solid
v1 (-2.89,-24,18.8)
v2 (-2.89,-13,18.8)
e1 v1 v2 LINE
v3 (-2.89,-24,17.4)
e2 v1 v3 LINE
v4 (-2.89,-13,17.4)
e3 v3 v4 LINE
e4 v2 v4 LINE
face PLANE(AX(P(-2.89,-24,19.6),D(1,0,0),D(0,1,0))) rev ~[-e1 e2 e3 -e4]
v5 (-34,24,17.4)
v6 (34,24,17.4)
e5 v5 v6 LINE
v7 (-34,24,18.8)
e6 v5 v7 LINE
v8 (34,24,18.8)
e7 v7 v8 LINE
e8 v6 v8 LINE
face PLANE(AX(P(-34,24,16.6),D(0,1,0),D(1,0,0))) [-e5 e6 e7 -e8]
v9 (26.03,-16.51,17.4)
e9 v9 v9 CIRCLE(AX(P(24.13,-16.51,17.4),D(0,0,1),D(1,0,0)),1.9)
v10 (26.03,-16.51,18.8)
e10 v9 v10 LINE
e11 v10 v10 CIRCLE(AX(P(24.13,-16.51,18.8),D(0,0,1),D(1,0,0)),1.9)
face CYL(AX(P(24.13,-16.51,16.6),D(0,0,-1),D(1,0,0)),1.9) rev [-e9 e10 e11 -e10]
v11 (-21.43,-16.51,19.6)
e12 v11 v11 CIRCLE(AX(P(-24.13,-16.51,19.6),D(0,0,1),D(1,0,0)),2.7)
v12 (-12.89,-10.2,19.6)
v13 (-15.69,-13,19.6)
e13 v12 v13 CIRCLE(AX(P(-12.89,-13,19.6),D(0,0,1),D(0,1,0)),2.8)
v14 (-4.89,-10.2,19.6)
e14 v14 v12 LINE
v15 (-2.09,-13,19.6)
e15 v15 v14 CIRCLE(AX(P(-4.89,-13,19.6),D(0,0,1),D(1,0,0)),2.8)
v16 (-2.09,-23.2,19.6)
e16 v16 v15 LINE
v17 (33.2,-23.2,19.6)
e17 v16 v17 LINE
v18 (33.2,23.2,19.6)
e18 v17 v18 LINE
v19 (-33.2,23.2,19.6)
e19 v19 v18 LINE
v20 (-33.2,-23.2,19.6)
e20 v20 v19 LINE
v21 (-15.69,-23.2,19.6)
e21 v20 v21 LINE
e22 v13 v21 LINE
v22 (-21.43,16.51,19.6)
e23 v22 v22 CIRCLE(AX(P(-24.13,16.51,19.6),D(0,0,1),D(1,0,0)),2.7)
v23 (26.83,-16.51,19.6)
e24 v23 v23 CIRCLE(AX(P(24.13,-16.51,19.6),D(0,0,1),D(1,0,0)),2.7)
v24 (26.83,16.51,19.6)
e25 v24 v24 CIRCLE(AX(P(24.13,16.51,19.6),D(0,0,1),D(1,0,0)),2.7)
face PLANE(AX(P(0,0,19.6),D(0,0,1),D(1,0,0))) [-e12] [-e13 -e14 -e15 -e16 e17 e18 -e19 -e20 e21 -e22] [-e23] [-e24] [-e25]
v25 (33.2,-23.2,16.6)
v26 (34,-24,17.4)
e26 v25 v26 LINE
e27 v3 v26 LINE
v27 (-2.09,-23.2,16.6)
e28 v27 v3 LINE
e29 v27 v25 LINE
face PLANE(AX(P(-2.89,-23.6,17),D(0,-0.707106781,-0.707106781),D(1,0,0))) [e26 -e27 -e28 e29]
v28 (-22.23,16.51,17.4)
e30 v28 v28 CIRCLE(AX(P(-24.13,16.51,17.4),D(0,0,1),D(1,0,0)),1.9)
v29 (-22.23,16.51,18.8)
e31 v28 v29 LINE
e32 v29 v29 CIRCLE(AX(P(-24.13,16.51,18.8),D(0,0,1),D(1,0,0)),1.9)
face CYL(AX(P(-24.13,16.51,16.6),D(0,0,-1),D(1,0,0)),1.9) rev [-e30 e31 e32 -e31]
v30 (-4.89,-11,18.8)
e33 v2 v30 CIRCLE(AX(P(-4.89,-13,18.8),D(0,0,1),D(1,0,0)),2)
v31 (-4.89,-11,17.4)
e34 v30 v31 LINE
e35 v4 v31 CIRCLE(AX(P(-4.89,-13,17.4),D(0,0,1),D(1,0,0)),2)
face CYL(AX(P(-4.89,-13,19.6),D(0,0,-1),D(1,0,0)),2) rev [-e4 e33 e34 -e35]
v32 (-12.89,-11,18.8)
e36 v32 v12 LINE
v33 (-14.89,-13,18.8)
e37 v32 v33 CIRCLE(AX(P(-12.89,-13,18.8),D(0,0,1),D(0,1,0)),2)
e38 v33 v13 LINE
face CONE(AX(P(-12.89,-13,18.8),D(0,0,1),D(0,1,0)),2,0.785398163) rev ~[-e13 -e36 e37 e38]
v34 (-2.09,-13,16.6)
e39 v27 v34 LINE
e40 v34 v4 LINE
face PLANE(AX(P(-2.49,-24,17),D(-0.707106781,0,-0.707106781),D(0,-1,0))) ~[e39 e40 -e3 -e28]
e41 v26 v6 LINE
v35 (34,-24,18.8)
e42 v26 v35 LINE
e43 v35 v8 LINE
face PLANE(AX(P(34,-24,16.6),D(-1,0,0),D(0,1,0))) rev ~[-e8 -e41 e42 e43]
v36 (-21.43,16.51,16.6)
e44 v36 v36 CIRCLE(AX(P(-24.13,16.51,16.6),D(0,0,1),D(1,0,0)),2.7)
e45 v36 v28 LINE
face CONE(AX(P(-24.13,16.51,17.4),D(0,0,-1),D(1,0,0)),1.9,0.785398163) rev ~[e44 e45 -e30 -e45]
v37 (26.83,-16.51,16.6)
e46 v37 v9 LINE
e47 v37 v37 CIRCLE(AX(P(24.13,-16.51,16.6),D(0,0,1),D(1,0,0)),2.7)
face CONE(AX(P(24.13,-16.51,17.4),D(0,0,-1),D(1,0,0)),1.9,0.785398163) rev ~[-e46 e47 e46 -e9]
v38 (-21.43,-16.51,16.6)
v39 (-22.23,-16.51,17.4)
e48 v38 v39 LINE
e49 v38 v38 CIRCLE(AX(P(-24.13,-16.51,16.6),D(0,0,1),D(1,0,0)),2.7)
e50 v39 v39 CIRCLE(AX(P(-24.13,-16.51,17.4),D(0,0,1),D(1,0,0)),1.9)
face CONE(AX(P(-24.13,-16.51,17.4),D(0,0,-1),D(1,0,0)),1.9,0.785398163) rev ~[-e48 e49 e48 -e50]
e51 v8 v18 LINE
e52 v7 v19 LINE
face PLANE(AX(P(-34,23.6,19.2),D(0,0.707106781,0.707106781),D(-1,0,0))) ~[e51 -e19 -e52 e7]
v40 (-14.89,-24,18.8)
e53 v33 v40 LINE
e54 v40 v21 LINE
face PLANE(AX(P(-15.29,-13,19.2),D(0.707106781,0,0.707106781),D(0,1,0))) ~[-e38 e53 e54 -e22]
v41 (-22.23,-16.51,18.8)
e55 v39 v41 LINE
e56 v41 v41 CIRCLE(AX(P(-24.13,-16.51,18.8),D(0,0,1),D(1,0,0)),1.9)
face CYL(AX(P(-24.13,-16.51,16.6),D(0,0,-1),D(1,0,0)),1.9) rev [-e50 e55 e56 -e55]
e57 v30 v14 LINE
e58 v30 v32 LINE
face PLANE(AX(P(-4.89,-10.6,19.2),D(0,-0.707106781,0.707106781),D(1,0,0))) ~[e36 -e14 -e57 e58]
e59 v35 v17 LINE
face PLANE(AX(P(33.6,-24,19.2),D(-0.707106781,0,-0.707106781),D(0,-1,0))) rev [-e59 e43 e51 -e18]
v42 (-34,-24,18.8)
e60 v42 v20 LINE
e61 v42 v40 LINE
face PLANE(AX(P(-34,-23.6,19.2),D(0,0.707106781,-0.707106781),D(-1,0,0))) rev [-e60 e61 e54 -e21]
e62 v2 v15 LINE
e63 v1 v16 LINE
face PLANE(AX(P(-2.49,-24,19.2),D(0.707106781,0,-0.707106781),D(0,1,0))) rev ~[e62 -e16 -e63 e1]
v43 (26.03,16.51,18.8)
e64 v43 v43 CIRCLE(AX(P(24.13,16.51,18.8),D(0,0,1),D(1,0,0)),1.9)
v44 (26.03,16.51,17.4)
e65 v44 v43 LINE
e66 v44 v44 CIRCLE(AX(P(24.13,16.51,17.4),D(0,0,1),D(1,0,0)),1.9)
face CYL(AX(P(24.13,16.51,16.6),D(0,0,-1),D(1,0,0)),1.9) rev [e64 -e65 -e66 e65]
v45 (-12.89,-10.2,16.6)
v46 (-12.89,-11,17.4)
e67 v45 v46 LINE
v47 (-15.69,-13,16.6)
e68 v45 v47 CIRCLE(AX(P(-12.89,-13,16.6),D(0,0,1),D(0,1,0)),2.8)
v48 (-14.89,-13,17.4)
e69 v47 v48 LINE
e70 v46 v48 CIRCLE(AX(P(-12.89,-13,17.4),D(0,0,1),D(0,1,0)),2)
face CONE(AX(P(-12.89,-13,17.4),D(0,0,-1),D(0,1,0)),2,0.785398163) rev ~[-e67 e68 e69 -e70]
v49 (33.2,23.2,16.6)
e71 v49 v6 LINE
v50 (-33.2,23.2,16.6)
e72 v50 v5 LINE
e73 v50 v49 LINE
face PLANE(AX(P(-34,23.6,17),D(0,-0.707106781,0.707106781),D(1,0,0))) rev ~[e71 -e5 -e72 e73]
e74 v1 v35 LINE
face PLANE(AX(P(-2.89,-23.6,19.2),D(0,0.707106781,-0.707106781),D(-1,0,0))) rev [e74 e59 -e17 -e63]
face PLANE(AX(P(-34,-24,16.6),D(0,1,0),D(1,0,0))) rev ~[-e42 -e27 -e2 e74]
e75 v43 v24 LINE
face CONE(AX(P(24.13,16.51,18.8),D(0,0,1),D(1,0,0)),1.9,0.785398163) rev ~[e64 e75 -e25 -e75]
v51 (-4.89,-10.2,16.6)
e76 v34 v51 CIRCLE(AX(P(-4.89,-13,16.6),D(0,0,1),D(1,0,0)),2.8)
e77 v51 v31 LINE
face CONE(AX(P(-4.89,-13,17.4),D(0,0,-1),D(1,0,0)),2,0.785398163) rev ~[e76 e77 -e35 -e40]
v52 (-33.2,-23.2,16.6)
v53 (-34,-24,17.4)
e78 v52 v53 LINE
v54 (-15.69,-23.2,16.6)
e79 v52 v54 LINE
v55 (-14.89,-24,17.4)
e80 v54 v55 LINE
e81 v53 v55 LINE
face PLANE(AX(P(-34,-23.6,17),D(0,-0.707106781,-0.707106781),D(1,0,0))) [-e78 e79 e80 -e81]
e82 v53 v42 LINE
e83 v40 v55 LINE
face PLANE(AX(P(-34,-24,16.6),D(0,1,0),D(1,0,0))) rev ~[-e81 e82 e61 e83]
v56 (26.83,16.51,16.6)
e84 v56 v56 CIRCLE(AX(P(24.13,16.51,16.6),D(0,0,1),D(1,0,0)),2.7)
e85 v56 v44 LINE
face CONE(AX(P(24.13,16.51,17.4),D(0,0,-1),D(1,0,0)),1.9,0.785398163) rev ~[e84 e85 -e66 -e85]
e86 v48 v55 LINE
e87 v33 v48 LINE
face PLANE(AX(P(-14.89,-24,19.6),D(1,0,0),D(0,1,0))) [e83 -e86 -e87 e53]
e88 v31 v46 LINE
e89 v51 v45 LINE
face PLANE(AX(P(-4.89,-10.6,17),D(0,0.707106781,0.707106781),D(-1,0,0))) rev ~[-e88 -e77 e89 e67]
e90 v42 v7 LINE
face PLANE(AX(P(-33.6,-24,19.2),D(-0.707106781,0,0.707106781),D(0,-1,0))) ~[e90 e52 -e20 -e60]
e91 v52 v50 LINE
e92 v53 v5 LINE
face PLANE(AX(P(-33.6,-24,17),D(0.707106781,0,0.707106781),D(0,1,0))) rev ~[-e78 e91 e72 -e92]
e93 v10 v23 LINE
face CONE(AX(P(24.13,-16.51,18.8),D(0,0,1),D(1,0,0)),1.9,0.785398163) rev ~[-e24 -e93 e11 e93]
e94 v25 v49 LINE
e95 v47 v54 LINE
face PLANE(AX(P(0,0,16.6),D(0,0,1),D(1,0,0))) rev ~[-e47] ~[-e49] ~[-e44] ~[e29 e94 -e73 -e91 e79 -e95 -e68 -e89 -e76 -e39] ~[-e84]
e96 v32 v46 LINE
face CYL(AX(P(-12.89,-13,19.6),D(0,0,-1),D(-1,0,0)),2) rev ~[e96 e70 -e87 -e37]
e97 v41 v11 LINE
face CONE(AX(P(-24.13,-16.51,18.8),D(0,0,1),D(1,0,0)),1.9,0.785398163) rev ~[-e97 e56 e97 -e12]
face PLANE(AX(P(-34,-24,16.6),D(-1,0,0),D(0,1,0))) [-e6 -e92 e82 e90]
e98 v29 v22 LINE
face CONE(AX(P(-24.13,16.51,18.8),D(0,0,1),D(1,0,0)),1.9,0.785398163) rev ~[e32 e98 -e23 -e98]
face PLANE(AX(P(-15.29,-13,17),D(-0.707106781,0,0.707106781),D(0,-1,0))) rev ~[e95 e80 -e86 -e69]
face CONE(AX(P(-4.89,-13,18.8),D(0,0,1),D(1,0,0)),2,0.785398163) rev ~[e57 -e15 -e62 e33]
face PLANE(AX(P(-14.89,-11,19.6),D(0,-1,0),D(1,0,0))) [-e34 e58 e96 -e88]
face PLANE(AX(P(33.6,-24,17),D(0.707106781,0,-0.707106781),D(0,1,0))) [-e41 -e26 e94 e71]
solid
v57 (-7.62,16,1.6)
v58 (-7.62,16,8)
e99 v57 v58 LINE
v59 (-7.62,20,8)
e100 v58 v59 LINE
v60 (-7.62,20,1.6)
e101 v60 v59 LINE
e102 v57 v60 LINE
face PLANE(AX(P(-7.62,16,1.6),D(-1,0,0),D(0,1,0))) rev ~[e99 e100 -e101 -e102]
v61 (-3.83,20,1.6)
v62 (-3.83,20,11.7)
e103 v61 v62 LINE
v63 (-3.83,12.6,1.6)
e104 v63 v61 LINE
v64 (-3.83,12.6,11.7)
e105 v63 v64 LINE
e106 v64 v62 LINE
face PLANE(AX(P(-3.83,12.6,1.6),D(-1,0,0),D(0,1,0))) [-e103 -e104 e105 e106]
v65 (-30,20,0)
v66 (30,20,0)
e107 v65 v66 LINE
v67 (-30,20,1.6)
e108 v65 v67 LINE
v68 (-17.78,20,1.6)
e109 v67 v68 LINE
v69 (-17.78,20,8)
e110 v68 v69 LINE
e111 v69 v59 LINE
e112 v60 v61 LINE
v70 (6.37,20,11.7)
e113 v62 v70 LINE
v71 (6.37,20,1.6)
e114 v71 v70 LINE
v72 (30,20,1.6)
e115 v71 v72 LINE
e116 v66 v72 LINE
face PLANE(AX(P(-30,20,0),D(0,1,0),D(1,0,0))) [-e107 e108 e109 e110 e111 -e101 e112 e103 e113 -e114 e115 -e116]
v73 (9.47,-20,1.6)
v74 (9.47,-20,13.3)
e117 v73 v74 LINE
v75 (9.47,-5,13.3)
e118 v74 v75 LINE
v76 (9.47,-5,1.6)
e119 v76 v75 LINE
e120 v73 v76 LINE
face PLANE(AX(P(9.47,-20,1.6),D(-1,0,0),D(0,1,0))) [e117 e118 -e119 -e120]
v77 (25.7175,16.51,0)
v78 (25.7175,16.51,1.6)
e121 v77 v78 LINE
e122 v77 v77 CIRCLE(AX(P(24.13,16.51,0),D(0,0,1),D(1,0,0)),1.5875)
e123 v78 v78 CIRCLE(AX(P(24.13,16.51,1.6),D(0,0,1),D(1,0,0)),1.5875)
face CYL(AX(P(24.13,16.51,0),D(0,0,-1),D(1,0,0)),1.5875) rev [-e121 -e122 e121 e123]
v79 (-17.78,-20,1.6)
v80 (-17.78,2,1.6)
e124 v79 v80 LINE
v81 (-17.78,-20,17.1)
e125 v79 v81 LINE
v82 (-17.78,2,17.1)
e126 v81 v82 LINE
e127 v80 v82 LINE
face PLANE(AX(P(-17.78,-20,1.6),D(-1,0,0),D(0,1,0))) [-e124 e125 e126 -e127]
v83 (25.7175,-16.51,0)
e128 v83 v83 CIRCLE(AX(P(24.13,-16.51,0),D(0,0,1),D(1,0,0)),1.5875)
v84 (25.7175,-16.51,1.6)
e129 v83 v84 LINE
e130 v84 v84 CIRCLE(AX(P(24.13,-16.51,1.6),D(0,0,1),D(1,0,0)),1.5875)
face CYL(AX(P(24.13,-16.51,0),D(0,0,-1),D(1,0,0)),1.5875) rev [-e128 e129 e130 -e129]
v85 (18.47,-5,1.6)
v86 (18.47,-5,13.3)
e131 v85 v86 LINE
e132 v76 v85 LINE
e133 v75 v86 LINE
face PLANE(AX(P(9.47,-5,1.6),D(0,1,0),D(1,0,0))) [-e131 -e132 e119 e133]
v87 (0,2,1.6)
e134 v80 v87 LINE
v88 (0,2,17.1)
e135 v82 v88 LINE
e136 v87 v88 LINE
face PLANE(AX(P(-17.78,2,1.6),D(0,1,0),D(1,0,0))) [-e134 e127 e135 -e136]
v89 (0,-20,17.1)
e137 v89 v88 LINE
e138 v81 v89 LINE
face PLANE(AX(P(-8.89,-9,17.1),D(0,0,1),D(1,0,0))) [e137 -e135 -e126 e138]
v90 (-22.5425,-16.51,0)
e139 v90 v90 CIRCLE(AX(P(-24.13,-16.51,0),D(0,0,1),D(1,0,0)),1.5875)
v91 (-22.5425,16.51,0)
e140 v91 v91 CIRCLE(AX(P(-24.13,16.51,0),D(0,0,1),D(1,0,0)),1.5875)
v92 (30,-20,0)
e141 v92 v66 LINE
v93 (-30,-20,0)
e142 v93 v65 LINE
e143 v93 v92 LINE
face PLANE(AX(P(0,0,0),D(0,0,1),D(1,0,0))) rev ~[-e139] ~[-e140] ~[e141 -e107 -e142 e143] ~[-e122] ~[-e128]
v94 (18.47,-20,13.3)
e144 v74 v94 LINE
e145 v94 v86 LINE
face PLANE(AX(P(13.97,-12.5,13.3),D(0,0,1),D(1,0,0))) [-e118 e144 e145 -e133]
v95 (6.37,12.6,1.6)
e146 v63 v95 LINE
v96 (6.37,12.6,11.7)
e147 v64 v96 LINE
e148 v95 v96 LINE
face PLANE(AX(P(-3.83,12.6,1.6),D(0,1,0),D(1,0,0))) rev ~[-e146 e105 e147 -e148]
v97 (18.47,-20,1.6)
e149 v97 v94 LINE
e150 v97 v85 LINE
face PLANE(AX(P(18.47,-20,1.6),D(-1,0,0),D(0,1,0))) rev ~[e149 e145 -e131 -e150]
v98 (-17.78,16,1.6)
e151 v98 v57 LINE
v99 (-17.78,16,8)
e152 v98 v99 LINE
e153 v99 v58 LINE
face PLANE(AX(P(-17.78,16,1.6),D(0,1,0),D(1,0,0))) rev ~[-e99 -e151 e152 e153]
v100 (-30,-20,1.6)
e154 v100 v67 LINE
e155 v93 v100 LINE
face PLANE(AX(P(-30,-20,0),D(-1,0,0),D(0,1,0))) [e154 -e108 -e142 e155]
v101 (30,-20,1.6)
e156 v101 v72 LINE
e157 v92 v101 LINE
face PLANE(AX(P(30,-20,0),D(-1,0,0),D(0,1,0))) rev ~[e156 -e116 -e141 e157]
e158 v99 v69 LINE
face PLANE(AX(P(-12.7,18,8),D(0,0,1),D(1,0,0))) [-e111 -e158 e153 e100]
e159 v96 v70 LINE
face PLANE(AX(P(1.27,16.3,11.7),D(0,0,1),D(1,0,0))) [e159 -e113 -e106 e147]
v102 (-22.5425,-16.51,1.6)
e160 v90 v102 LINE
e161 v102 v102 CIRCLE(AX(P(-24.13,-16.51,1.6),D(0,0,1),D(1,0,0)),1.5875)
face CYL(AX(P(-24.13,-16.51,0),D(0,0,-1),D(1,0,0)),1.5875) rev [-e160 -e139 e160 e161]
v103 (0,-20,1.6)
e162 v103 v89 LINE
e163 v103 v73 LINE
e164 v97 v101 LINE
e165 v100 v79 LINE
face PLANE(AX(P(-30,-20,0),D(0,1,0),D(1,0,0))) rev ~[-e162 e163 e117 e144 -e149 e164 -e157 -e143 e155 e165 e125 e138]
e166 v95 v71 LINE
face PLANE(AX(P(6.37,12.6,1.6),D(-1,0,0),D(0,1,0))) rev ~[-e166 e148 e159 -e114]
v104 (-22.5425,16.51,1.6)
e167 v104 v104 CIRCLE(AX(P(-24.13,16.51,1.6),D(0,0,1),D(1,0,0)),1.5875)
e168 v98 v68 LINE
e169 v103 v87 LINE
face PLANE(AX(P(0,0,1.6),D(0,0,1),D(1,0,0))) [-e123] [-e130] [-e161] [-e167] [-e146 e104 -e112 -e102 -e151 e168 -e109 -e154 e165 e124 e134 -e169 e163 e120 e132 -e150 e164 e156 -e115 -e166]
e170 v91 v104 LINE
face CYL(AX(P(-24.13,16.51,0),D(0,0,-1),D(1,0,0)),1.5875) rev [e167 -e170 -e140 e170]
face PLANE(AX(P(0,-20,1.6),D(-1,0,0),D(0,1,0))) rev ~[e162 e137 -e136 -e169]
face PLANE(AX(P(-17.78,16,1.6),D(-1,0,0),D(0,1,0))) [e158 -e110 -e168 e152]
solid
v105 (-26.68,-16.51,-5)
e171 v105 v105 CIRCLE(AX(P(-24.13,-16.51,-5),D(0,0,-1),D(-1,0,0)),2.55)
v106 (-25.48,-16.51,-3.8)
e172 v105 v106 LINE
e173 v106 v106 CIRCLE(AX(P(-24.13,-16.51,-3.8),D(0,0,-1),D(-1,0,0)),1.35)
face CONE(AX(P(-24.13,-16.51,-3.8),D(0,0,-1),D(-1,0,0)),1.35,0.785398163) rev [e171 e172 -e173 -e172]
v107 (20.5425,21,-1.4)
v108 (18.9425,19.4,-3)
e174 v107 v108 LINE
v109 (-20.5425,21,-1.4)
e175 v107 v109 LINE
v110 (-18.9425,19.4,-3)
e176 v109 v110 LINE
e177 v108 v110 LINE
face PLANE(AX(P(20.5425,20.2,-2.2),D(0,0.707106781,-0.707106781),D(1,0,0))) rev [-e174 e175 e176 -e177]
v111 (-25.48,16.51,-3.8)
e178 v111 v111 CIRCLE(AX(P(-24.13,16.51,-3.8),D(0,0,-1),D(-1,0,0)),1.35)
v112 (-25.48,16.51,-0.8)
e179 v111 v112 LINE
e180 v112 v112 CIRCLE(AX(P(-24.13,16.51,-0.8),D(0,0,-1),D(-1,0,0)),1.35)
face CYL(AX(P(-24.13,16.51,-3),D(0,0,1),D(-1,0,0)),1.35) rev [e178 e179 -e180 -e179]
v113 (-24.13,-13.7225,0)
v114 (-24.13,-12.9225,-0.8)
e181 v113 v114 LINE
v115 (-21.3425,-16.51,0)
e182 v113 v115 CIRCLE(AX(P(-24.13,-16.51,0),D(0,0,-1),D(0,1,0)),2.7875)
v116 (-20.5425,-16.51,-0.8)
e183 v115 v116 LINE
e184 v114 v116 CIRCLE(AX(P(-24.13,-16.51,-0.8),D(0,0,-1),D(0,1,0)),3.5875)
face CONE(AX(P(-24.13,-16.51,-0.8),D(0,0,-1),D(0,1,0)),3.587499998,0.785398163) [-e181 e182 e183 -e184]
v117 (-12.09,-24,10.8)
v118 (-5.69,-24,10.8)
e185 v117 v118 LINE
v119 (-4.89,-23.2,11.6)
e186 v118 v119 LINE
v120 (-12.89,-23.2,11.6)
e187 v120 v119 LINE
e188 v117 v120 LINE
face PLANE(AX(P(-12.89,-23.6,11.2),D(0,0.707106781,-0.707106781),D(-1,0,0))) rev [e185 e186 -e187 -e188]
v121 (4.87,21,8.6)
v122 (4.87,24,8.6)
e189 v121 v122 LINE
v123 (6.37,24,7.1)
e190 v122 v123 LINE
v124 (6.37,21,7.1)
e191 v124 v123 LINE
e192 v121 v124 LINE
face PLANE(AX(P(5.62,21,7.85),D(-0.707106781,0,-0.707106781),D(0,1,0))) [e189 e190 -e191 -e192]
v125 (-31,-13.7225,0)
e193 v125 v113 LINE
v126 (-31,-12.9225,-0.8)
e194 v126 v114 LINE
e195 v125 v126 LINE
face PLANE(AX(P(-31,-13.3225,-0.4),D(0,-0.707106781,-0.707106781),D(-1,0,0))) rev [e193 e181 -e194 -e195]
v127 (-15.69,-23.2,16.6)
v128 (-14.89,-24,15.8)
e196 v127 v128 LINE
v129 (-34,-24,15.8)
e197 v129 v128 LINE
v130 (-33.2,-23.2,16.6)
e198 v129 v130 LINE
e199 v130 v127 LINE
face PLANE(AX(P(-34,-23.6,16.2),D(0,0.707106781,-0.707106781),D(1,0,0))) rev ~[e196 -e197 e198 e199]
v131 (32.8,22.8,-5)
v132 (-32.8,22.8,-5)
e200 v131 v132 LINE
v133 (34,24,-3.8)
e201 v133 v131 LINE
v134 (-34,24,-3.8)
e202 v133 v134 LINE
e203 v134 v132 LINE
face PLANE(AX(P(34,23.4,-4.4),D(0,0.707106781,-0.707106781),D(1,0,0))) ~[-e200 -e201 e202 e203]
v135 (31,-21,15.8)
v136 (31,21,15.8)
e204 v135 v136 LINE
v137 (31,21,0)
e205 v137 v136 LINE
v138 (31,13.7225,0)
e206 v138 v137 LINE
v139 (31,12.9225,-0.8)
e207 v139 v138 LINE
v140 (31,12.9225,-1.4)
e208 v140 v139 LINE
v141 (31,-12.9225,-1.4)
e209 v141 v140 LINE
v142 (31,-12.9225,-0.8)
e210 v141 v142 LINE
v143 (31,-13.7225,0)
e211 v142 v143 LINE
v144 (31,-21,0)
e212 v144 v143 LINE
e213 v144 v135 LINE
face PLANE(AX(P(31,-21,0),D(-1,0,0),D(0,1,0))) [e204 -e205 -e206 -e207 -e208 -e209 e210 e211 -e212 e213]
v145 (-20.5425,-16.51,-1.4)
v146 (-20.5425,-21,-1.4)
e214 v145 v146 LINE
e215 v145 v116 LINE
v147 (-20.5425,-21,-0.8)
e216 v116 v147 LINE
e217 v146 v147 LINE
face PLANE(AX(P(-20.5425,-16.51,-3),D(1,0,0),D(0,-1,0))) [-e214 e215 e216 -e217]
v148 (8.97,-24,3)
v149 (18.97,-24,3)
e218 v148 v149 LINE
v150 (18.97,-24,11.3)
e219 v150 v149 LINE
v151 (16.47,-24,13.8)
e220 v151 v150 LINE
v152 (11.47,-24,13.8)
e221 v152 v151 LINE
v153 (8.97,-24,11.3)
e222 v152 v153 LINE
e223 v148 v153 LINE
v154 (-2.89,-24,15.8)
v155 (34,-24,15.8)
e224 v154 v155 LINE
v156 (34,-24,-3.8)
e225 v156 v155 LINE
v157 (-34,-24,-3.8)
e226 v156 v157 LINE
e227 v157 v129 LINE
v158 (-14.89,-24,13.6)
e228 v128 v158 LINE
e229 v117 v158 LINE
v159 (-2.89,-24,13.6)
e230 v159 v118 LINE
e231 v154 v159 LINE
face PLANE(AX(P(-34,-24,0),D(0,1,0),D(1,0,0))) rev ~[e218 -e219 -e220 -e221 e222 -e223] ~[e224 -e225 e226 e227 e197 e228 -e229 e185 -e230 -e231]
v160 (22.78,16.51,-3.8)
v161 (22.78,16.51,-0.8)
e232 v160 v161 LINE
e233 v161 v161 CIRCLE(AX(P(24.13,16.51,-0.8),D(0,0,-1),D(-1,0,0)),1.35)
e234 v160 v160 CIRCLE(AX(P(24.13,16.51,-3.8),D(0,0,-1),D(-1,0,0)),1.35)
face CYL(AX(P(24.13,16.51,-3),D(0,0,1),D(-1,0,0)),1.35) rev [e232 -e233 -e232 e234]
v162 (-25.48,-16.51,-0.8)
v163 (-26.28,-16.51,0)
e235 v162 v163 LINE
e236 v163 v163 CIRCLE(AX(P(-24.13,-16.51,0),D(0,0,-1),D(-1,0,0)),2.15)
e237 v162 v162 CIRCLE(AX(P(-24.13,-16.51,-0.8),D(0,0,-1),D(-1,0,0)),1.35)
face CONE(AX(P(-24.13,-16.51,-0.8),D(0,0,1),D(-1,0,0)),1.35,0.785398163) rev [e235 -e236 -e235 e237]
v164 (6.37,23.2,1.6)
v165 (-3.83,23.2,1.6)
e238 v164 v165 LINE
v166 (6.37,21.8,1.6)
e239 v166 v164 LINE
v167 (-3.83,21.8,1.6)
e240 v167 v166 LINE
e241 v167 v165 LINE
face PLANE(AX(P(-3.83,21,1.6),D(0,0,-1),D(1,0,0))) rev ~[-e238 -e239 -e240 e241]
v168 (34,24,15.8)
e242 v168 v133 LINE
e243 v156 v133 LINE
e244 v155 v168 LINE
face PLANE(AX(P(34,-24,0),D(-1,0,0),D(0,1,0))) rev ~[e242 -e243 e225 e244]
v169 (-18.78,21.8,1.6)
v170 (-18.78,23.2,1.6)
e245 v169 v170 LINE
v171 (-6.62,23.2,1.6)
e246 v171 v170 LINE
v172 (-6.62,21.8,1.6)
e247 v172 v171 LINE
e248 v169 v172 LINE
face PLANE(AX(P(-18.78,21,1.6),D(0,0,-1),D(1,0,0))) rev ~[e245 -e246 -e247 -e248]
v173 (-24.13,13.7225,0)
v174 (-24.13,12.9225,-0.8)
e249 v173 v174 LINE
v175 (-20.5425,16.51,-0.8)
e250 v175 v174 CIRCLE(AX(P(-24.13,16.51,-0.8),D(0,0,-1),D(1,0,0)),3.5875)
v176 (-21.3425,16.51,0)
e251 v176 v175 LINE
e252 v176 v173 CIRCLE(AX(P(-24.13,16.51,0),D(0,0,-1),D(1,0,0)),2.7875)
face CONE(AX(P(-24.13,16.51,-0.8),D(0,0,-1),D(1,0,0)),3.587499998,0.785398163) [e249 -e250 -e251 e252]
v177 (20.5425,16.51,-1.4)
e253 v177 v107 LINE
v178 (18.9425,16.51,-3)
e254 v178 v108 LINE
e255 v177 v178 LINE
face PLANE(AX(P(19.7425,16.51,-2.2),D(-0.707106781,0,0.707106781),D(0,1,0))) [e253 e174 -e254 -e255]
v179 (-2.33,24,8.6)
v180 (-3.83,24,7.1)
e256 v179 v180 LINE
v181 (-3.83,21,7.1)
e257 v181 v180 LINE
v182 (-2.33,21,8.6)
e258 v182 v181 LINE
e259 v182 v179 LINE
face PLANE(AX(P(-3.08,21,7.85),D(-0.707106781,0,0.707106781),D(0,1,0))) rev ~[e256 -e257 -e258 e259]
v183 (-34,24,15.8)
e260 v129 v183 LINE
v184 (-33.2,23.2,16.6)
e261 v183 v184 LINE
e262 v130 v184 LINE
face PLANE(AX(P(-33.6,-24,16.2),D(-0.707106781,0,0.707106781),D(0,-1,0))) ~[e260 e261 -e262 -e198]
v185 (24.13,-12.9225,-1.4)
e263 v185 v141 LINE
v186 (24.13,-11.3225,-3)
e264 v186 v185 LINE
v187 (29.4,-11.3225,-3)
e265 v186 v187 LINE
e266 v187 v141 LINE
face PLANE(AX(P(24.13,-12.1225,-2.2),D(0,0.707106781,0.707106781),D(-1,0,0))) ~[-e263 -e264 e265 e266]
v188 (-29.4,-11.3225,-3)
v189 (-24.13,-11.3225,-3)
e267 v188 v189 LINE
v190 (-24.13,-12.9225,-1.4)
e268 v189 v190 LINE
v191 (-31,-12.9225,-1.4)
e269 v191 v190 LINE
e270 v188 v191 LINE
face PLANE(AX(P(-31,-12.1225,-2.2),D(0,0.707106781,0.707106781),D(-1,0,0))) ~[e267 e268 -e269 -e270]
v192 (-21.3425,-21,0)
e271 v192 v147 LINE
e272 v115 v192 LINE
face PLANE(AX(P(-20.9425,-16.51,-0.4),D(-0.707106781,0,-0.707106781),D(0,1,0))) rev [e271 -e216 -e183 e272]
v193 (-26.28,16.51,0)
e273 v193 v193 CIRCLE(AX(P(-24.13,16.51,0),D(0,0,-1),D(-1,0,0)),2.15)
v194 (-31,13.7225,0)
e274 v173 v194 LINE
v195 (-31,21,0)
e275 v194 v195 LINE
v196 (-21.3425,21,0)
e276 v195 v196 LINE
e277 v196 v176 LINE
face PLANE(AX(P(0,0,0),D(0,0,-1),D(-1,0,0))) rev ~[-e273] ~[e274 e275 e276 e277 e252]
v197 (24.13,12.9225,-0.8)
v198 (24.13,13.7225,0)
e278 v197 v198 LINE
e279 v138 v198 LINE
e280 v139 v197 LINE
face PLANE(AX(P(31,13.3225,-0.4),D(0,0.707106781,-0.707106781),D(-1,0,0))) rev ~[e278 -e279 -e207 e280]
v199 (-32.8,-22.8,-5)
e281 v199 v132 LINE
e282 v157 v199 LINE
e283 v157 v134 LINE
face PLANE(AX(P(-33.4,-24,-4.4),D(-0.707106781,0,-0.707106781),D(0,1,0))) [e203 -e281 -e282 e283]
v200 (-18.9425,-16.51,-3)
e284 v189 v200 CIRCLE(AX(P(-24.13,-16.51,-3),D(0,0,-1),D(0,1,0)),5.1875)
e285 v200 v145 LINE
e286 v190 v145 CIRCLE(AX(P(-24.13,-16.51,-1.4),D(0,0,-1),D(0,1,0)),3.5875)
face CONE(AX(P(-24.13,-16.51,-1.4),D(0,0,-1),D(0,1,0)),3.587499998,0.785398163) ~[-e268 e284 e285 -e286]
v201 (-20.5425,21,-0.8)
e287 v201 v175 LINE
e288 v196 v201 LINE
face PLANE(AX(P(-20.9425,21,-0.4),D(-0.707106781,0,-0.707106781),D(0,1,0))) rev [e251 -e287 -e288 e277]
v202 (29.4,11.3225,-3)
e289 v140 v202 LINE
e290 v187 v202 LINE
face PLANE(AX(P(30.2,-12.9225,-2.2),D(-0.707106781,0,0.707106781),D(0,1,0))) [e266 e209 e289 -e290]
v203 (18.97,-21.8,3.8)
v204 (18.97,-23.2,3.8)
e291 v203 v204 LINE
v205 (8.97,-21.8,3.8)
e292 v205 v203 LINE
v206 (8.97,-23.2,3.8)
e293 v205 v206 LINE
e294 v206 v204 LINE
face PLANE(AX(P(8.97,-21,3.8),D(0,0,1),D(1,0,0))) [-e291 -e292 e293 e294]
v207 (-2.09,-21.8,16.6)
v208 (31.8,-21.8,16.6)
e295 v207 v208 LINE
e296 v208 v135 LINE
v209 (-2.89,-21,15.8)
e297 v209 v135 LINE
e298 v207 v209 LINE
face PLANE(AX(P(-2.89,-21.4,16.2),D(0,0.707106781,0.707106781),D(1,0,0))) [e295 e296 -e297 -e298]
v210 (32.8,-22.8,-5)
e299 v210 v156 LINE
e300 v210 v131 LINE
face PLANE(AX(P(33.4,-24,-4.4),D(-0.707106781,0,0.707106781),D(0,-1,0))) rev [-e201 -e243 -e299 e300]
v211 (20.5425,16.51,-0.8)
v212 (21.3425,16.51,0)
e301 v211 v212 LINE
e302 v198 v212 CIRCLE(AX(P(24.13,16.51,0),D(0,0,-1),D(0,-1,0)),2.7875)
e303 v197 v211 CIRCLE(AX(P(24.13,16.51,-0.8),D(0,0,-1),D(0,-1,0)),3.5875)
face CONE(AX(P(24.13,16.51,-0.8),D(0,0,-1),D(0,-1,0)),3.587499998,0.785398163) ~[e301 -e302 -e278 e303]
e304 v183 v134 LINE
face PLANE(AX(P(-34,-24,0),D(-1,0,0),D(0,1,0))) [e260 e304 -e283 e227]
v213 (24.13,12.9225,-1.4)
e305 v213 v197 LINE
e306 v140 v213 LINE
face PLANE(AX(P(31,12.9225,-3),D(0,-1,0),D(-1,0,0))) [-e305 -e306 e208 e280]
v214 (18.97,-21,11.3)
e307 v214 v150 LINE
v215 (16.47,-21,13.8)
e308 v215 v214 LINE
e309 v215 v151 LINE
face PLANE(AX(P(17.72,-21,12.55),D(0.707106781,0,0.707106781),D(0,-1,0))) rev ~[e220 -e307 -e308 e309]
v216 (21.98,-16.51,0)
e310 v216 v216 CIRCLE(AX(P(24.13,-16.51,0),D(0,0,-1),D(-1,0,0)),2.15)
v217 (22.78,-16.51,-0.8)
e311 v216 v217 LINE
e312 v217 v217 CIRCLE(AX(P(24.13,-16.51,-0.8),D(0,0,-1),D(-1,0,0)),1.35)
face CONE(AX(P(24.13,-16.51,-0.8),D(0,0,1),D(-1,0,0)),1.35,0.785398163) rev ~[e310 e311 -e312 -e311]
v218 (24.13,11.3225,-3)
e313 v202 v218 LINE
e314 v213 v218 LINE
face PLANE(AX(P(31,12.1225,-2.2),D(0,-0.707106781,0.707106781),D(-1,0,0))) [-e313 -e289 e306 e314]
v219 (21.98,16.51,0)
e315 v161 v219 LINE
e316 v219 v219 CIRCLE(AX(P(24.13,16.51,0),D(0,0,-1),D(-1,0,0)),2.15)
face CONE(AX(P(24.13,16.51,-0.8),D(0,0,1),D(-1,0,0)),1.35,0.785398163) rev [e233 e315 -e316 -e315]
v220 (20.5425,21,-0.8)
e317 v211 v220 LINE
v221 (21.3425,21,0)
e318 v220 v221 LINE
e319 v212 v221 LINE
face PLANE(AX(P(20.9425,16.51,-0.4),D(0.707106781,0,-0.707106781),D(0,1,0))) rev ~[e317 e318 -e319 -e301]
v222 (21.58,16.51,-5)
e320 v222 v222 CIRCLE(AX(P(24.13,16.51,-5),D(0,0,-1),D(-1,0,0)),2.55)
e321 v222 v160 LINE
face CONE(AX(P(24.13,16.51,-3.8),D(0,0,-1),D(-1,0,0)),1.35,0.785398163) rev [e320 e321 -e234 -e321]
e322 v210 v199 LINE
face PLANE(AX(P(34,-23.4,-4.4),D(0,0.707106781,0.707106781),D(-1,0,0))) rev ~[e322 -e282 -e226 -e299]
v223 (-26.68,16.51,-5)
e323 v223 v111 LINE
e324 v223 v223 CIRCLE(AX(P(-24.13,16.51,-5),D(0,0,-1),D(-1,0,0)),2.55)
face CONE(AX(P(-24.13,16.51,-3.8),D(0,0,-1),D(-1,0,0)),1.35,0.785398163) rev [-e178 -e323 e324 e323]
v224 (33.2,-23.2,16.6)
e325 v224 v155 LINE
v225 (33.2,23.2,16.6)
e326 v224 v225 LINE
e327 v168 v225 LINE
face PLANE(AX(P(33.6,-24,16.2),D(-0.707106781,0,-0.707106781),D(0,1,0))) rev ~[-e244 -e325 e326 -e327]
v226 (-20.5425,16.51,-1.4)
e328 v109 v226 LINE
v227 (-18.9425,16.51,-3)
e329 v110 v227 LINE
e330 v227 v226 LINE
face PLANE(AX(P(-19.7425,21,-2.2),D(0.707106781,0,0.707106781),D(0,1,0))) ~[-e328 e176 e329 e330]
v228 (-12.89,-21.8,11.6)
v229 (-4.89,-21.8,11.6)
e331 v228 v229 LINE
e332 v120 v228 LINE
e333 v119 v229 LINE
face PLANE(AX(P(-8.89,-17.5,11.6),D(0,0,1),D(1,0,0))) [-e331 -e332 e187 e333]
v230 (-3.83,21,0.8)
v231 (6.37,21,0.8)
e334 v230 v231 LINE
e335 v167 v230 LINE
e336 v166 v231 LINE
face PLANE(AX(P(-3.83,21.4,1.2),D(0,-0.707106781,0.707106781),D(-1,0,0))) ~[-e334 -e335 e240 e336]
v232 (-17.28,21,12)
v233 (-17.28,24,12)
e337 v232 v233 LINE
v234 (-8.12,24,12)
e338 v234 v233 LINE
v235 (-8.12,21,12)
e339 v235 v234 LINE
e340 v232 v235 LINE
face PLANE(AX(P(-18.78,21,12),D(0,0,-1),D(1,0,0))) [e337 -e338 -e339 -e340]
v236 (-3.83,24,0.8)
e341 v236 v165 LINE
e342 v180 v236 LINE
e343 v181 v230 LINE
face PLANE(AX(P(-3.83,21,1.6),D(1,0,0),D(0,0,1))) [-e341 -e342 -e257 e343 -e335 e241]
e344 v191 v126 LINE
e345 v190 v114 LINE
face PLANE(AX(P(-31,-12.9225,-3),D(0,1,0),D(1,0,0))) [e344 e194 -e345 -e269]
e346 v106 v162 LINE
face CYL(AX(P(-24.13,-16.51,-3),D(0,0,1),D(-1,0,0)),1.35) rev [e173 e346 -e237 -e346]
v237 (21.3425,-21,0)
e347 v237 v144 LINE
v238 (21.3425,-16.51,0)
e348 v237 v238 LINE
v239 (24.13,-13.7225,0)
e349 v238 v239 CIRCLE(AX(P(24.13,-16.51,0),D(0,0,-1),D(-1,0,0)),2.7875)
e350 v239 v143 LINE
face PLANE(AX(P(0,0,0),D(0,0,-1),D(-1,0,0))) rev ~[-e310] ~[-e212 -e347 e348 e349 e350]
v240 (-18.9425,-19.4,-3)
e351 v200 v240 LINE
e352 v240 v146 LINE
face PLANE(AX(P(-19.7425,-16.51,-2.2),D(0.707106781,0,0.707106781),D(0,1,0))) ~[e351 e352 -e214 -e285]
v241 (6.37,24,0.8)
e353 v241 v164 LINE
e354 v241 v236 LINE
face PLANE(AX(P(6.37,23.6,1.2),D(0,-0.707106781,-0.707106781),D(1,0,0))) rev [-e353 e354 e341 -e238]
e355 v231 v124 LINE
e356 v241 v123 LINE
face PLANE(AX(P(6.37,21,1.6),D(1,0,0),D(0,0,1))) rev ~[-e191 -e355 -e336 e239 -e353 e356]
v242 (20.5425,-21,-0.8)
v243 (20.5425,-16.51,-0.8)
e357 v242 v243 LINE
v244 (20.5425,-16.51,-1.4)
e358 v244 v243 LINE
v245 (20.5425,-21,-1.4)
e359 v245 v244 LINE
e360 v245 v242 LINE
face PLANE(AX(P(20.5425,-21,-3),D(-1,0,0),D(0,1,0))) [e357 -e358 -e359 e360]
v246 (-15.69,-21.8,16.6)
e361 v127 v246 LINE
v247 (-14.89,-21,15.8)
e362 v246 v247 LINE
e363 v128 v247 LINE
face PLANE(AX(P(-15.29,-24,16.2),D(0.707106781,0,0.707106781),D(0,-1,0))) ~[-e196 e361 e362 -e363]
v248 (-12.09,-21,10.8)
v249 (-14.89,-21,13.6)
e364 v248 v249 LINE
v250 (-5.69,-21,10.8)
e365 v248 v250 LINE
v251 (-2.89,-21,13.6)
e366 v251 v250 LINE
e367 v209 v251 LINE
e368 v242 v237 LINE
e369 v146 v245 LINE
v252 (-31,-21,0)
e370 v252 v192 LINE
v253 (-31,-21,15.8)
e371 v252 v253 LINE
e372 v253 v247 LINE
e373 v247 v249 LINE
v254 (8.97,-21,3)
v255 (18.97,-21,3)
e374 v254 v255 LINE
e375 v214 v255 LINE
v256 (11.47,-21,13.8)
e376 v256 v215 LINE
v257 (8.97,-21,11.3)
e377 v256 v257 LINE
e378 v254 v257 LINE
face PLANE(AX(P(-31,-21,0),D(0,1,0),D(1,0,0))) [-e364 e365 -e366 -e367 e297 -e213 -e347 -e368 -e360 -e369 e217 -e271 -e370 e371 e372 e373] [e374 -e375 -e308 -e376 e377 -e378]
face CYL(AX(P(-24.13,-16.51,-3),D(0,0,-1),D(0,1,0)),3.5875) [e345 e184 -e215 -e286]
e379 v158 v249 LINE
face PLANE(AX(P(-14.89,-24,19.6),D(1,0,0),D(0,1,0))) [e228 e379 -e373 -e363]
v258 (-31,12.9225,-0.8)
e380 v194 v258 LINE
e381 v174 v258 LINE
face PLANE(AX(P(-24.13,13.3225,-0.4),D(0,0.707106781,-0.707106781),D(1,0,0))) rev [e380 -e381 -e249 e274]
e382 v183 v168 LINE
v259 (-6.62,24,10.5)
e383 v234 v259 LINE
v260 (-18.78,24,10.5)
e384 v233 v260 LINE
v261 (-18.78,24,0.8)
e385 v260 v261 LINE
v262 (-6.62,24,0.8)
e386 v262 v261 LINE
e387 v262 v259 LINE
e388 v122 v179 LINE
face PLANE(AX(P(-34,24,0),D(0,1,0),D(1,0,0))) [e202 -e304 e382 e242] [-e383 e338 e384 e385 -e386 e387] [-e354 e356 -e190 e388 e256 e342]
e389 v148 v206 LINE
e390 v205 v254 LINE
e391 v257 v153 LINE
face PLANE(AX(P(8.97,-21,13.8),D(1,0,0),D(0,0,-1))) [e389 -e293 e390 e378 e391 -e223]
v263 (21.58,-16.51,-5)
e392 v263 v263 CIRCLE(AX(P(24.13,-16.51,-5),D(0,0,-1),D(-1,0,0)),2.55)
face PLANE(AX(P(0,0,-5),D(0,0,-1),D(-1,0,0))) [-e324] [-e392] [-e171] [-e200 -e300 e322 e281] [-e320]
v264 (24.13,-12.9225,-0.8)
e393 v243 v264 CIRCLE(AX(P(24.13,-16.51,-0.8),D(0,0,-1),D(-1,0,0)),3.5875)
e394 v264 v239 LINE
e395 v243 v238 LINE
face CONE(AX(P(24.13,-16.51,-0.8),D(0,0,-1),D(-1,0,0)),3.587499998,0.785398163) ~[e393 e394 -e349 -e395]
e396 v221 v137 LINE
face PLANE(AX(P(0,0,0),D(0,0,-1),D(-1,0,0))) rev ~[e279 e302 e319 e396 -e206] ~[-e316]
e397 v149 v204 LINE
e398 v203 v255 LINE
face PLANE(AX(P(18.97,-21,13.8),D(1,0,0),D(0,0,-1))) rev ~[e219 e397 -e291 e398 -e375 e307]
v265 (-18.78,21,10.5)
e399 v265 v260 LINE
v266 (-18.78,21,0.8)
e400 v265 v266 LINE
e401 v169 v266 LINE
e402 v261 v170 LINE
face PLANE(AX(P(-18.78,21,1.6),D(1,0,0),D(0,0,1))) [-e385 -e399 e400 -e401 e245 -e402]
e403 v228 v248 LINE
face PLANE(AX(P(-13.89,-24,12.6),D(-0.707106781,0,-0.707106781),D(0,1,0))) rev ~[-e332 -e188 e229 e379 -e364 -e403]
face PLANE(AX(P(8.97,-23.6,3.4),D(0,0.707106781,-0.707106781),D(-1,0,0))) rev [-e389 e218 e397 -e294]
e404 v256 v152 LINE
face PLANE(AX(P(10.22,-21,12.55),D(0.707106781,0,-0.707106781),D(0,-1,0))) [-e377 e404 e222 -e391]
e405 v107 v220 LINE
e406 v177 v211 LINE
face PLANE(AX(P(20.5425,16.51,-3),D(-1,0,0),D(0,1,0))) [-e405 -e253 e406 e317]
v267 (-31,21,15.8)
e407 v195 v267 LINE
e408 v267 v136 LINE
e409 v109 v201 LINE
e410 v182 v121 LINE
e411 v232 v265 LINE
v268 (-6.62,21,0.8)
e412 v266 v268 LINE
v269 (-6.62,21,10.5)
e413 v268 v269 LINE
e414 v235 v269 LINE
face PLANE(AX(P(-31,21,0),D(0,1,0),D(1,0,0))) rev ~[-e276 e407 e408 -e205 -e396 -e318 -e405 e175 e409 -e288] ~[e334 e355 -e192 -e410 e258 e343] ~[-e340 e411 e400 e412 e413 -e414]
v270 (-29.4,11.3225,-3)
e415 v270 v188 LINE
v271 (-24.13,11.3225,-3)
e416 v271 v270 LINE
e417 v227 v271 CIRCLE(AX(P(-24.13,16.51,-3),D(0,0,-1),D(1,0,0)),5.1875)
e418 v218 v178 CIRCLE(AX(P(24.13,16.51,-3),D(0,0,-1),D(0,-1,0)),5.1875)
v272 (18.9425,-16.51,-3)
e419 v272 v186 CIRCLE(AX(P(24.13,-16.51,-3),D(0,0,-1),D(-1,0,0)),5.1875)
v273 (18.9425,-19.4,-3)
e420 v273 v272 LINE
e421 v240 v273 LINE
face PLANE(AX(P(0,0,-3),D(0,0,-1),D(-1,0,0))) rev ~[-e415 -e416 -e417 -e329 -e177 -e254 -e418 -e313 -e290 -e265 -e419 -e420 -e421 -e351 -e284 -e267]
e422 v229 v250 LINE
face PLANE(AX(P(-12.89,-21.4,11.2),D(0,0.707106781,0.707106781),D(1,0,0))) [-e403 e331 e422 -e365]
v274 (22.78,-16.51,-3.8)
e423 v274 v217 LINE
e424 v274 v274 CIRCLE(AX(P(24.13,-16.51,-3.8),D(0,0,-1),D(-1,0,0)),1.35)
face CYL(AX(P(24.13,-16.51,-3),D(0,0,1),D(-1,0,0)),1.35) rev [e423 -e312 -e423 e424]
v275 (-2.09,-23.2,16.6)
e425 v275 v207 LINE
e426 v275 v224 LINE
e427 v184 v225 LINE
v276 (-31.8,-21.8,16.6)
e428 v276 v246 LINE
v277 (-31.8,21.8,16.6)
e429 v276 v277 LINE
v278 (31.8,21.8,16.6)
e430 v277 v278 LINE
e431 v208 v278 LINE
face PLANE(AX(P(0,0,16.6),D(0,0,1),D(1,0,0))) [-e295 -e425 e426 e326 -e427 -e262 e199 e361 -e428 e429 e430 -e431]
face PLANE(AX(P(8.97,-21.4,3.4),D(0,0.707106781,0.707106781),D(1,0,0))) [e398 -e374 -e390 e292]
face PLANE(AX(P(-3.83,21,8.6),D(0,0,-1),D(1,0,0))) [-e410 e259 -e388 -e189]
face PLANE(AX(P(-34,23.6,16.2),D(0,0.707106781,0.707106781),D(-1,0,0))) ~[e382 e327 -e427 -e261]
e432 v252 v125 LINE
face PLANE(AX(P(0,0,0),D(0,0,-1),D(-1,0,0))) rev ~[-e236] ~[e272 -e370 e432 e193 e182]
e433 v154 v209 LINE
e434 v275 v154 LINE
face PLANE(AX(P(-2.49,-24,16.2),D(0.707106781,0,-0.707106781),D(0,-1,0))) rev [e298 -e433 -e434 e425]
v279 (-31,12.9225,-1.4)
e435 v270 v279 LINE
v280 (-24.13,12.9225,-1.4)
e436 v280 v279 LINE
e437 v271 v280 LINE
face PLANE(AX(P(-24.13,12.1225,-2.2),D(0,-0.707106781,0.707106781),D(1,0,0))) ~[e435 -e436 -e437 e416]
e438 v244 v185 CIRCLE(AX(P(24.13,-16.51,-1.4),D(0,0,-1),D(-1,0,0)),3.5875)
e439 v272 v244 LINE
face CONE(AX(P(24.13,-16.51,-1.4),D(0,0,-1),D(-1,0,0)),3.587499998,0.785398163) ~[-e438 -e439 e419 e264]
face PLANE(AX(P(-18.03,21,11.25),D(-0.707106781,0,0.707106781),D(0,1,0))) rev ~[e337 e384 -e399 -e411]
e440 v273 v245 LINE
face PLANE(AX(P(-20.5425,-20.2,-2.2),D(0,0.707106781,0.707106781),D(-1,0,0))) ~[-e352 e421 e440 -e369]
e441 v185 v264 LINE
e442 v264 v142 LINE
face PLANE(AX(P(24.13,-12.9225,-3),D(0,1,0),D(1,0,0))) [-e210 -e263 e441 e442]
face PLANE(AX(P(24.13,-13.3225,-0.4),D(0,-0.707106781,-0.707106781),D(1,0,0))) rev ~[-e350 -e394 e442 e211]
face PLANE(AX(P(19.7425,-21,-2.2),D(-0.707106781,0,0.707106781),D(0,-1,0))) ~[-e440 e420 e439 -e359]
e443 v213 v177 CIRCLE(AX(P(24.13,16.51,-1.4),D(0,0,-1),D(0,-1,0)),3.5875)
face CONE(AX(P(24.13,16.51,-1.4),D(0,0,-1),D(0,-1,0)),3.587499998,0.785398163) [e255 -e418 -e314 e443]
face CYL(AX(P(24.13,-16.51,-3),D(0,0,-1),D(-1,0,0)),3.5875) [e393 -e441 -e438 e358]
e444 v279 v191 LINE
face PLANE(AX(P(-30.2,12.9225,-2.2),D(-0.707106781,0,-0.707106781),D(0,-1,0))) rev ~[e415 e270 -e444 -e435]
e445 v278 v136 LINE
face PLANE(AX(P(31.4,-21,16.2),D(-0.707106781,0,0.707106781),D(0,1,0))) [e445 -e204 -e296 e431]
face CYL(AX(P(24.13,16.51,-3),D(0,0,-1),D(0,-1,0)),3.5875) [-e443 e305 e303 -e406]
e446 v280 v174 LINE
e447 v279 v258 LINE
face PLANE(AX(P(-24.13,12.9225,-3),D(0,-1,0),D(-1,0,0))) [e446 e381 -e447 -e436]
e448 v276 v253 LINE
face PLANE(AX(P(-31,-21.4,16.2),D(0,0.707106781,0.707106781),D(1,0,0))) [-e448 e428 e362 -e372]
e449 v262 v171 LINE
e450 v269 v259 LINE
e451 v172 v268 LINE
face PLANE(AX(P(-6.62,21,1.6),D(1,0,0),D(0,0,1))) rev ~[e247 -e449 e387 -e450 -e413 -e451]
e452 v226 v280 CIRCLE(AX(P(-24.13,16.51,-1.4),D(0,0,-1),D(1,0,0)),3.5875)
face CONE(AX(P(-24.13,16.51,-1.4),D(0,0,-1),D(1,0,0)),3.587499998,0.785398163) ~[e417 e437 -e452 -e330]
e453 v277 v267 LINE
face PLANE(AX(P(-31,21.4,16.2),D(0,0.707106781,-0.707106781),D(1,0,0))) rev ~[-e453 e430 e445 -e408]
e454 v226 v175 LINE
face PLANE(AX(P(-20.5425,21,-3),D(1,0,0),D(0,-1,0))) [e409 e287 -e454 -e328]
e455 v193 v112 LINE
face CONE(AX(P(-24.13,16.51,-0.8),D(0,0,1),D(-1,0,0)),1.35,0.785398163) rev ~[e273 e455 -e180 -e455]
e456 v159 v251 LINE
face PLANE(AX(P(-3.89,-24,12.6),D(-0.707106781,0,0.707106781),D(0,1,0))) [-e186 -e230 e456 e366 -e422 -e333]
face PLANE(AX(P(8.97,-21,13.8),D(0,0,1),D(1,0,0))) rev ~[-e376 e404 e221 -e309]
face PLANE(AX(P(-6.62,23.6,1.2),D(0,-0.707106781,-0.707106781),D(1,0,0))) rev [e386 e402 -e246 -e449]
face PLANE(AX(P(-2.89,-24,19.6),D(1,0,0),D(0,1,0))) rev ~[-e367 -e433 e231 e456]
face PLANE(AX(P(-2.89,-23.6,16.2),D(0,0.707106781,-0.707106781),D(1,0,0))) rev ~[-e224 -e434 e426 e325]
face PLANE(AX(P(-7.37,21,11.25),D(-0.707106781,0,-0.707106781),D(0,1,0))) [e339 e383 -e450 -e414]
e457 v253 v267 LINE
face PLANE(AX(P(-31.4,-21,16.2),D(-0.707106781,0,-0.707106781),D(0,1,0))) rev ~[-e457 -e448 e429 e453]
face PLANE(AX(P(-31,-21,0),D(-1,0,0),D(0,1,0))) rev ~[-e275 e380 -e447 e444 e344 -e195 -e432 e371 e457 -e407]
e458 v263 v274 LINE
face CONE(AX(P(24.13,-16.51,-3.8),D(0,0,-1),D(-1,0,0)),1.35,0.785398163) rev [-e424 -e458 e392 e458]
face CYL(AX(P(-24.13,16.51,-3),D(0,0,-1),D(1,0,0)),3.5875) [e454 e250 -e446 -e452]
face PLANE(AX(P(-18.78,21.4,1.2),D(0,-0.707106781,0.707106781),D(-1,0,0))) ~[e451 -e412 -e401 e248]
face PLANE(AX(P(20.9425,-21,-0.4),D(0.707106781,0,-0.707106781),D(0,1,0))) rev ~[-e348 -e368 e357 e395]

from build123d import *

# Parameters (mm, degrees)
SKETCH1_W           = 60
SKETCH1_H           = 40
SKETCH1_R           = 1.5875
BOSS_EXTRUDE1_DEPTH = 1.6
SKETCH2_W           = 9
SKETCH2_H           = 15
BOSS_EXTRUDE2_DEPTH = 11.7
SKETCH3_W           = 17.78
SKETCH3_H           = 22
BOSS_EXTRUDE3_DEPTH = 15.5
SKETCH4_W           = 10.2
SKETCH4_H           = 7.4
BOSS_EXTRUDE4_DEPTH = 10.1
SKETCH5_W           = 10.16
SKETCH5_H           = 4
BOSS_EXTRUDE5_DEPTH = 6.4
SKETCH6_W           = 68
SKETCH6_H           = 48
SKETCH6_R           = 1.35
BOSS_EXTRUDE6_DEPTH = 3
SKETCH7_W           = 68
SKETCH7_H           = 48
SKETCH7_R           = 1.35
BOSS_EXTRUDE7_DEPTH = 2
SKETCH8_W           = 68
SKETCH8_H           = 48
SKETCH8_W_2         = 62
SKETCH8_H_2         = 42
BOSS_EXTRUDE8_DEPTH = 16.6
SKETCH9_W           = 68
SKETCH9_H           = 48
SKETCH9_R           = 1.9
BOSS_EXTRUDE9_DEPTH = 3
SKETCH10_W          = 12
SKETCH10_H          = 13
CUT_EXTRUDE1_DEPTH  = 8
SKETCH11_W          = 10
SKETCH11_H          = 10
CUT_EXTRUDE2_DEPTH  = 60.708960802
CHAMFER1_SIZE       = 2
CHAMFER2_SIZE       = 2.5
SKETCH12_W          = 10.2
SKETCH12_H          = 7
CUT_EXTRUDE3_DEPTH  = 60.708960802
CHAMFER3_SIZE       = 1.5
SKETCH13_W          = 12.16
SKETCH13_H          = 10.4
CUT_EXTRUDE4_DEPTH  = 60.708960802
CHAMFER4_SIZE       = 1.5
FILLET1_R           = 2
CHAMFER5_SIZE       = 0.8
CHAMFER6_SIZE       = 1.2
CHAMFER7_SIZE       = 0.8
CHAMFER8_SIZE       = 0.8
CHAMFER9_SIZE       = 0.8
CHAMFER10_SIZE      = 1.6


with BuildPart() as part:
    # Sketch1 → Boss-Extrude1 (new body)
    with BuildSketch(Plane.XY):
        Rectangle(SKETCH1_W, SKETCH1_H)
        with Locations((-24.13, 16.51)):
            Circle(SKETCH1_R, mode=Mode.SUBTRACT)
        with Locations((-24.13, -16.51)):
            Circle(SKETCH1_R, mode=Mode.SUBTRACT)
        with Locations((24.13, -16.51)):
            Circle(SKETCH1_R, mode=Mode.SUBTRACT)
        with Locations((24.13, 16.51)):
            Circle(SKETCH1_R, mode=Mode.SUBTRACT)
    extrude(amount=BOSS_EXTRUDE1_DEPTH)

    # Sketch2 → Boss-Extrude2 (add)
    with BuildSketch(Plane.XY.offset(1.6)):
        with Locations((13.97, -12.5)):
            Rectangle(SKETCH2_W, SKETCH2_H)
    extrude(amount=BOSS_EXTRUDE2_DEPTH)

    # Sketch3 → Boss-Extrude3 (add)
    with BuildSketch(Plane.XY.offset(1.6)):
        with Locations((-8.89, -9)):
            Rectangle(SKETCH3_W, SKETCH3_H)
    extrude(amount=BOSS_EXTRUDE3_DEPTH)

    # Sketch4 → Boss-Extrude4 (add)
    with BuildSketch(Plane.XY.offset(1.6)):
        with Locations((1.27, 16.3)):
            Rectangle(SKETCH4_W, SKETCH4_H)
    extrude(amount=BOSS_EXTRUDE4_DEPTH)

    # Sketch5 → Boss-Extrude5 (add)
    with BuildSketch(Plane.XY.offset(1.6)):
        with Locations((-12.7, 18)):
            Rectangle(SKETCH5_W, SKETCH5_H)
    extrude(amount=BOSS_EXTRUDE5_DEPTH)


with BuildPart() as body_2:
    # Sketch6 → Boss-Extrude6 (new body)
    with BuildSketch(Plane(origin=(0, 0, -3), x_dir=(-1, 0, 0), z_dir=(0, 0, -1))):
        Rectangle(SKETCH6_W, SKETCH6_H)
        with Locations((-24.13, -16.51)):
            Circle(SKETCH6_R, mode=Mode.SUBTRACT)
        with Locations((-24.13, 16.51)):
            Circle(SKETCH6_R, mode=Mode.SUBTRACT)
        with Locations((24.13, 16.51)):
            Circle(SKETCH6_R, mode=Mode.SUBTRACT)
        with Locations((24.13, -16.51)):
            Circle(SKETCH6_R, mode=Mode.SUBTRACT)
        with BuildLine():
            Line((-20.5425, -20), (-20.5425, -16.51))
            ThreePointArc((-20.5425, -16.51), (-21.593254422, -13.973254422), (-24.13, -12.9225))
            Line((-24.13, -12.9225), (-30, -12.9225))
            Line((-30, -12.9225), (-31, -12.9225))
            Line((-31, -12.9225), (-31, 0))
            Line((-31, 0), (-31, 12.9225))
            Line((-31, 12.9225), (-30, 12.9225))
            Line((-30, 12.9225), (-24.13, 12.9225))
            ThreePointArc((-24.13, 12.9225), (-21.593254422, 13.973254422), (-20.5425, 16.51))
            Line((-20.5425, 16.51), (-20.5425, 20))
            Line((-20.5425, 20), (-20.5425, 21))
            Line((-20.5425, 21), (0, 21))
            Line((0, 21), (20.5425, 21))
            Line((20.5425, 21), (20.5425, 20))
            Line((20.5425, 20), (20.5425, 16.51))
            ThreePointArc((20.5425, 16.51), (21.593254422, 13.973254422), (24.13, 12.9225))
            Line((24.13, 12.9225), (30, 12.9225))
            Line((30, 12.9225), (31, 12.9225))
            Line((31, 12.9225), (31, 0))
            Line((31, 0), (31, -12.9225))
            Line((31, -12.9225), (30, -12.9225))
            Line((30, -12.9225), (24.13, -12.9225))
            ThreePointArc((24.13, -12.9225), (21.593254422, -13.973254422), (20.5425, -16.51))
            Line((20.5425, -16.51), (20.5425, -20))
            Line((20.5425, -20), (20.5425, -21))
            Line((20.5425, -21), (0, -21))
            Line((0, -21), (-20.5425, -21))
            Line((-20.5425, -21), (-20.5425, -20))
        make_face(mode=Mode.SUBTRACT)
    extrude(amount=-BOSS_EXTRUDE6_DEPTH)

    # Sketch7 → Boss-Extrude7 (add)
    with BuildSketch(Plane(origin=(0, 0, -3), x_dir=(-1, 0, 0), z_dir=(0, 0, -1))):
        Rectangle(SKETCH7_W, SKETCH7_H)
        with Locations((24.13, 16.51)):
            Circle(SKETCH7_R, mode=Mode.SUBTRACT)
        with Locations((-24.13, 16.51)):
            Circle(SKETCH7_R, mode=Mode.SUBTRACT)
        with Locations((-24.13, -16.51)):
            Circle(SKETCH7_R, mode=Mode.SUBTRACT)
        with Locations((24.13, -16.51)):
            Circle(SKETCH7_R, mode=Mode.SUBTRACT)
    extrude(amount=BOSS_EXTRUDE7_DEPTH)

    # Sketch8 → Boss-Extrude8 (add)
    with BuildSketch(Plane.XY):
        Rectangle(SKETCH8_W, SKETCH8_H)
        Rectangle(SKETCH8_W_2, SKETCH8_H_2, mode=Mode.SUBTRACT)
    extrude(amount=BOSS_EXTRUDE8_DEPTH)


with BuildPart() as body_3:
    # Sketch9 → Boss-Extrude9 (new body)
    with BuildSketch(Plane.XY.offset(16.6)):
        Rectangle(SKETCH9_W, SKETCH9_H)
        with Locations((-24.13, 16.51)):
            Circle(SKETCH9_R, mode=Mode.SUBTRACT)
        with Locations((-24.13, -16.51)):
            Circle(SKETCH9_R, mode=Mode.SUBTRACT)
        with Locations((24.13, -16.51)):
            Circle(SKETCH9_R, mode=Mode.SUBTRACT)
        with Locations((24.13, 16.51)):
            Circle(SKETCH9_R, mode=Mode.SUBTRACT)
    extrude(amount=BOSS_EXTRUDE9_DEPTH)


with BuildPart() as cut_extrude1_tool:
    # Sketch10 → Cut-Extrude1 (new body)
    with BuildSketch(Plane.XY.offset(19.6)):
        with Locations((-8.89, -17.5)):
            Rectangle(SKETCH10_W, SKETCH10_H)
    extrude(amount=-CUT_EXTRUDE1_DEPTH)


with BuildPart() as body_3_1:
    add(body_3.part)

    # Cut-Extrude1: cut by cut_extrude1_tool
    add(cut_extrude1_tool.part, mode=Mode.SUBTRACT)

    # Fillet1
    fillet1_edges = [body_3_1.edges().sort_by_distance(p)[0] for p in [
        (-14.89, -11, 18.1),
        (-2.89, -11, 18.1),
    ]]
    fillet(fillet1_edges, radius=FILLET1_R)

    # Chamfer5
    chamfer5_edges = [body_3_1.edges().sort_by_distance(p)[0] for p in [
        (-24.445, -24, 19.6),
        (-26.03, 16.51, 16.6),
        (-26.03, 16.51, 19.6),
        (34, 0, 19.6),
        (-26.03, -16.51, 16.6),
        (-26.03, -16.51, 19.6),
        (22.23, -16.51, 16.6),
        (22.23, -16.51, 19.6),
        (22.23, 16.51, 16.6),
        (22.23, 16.51, 19.6),
        (15.555, -24, 16.6),
        (15.555, -24, 19.6),
        (-2.89, -18.5, 16.6),
        (-2.89, -18.5, 19.6),
        (0, 24, 19.6),
        (34, 0, 16.6),
        (-24.445, -24, 16.6),
        (-8.89, -11, 19.6),
        (-8.89, -11, 16.6),
        (-34, 0, 16.6),
        (-14.89, -18.5, 19.6),
        (-14.89, -18.5, 16.6),
        (-3.475786438, -11.585786438, 19.6),
        (-3.475786438, -11.585786438, 16.6),
        (-14.304213562, -11.585786438, 19.6),
        (-14.304213562, -11.585786438, 16.6),
        (0, 24, 16.6),
        (-34, 0, 19.6),
    ]]
    chamfer(chamfer5_edges, length=CHAMFER5_SIZE)


with BuildPart() as body_2_1:
    add(body_2.part)

    # Cut-Extrude1: cut by cut_extrude1_tool
    add(cut_extrude1_tool.part, mode=Mode.SUBTRACT)

    # Sketch11 → Cut-Extrude2 (cut, through all)
    with BuildSketch(Plane(origin=(0, -21, 0), x_dir=(1, 0, 0), z_dir=(0, 1, 0))):
        with Locations((13.97, -8.8)):
            Rectangle(SKETCH11_W, SKETCH11_H)
    extrude(amount=-CUT_EXTRUDE2_DEPTH, mode=Mode.SUBTRACT)

    # Chamfer1
    chamfer1_edges = [body_2_1.edges().sort_by_distance(p)[0] for p in [
        (-14.89, -22.5, 11.6),
        (-2.89, -22.5, 11.6),
    ]]
    chamfer(chamfer1_edges, length=CHAMFER1_SIZE)

    # Chamfer2
    chamfer2_edges = [body_2_1.edges().sort_by_distance(p)[0] for p in [
        (18.97, -22.5, 13.8),
        (8.97, -22.5, 13.8),
    ]]
    chamfer(chamfer2_edges, length=CHAMFER2_SIZE)

    # Sketch12 → Cut-Extrude3 (cut, through all)
    with BuildSketch(Plane.XZ.offset(-21)):
        with Locations((1.27, 5.1)):
            Rectangle(SKETCH12_W, SKETCH12_H)
    extrude(amount=-CUT_EXTRUDE3_DEPTH, mode=Mode.SUBTRACT)

    # Chamfer3
    chamfer3_edges = [body_2_1.edges().sort_by_distance(p)[0] for p in [
        (6.37, 22.5, 8.6),
        (-3.83, 22.5, 8.6),
    ]]
    chamfer(chamfer3_edges, length=CHAMFER3_SIZE)

    # Sketch13 → Cut-Extrude4 (cut, through all)
    with BuildSketch(Plane.XZ.offset(-21)):
        with Locations((-12.7, 6.8)):
            Rectangle(SKETCH13_W, SKETCH13_H)
    extrude(amount=-CUT_EXTRUDE4_DEPTH, mode=Mode.SUBTRACT)

    # Chamfer4
    chamfer4_edges = [body_2_1.edges().sort_by_distance(p)[0] for p in [
        (-18.78, 22.5, 12),
        (-6.62, 22.5, 12),
    ]]
    chamfer(chamfer4_edges, length=CHAMFER4_SIZE)

    # Chamfer6
    chamfer6_edges = [body_2_1.edges().sort_by_distance(p)[0] for p in [
        (-34, 0, -5),
        (0, 24, -5),
        (34, 0, -5),
        (0, -24, -5),
        (-22.78, 16.51, -5),
        (25.48, 16.51, -5),
        (25.48, -16.51, -5),
        (-22.78, -16.51, -5),
    ]]
    chamfer(chamfer6_edges, length=CHAMFER6_SIZE)

    # Chamfer7
    chamfer7_edges = [body_2_1.edges().sort_by_distance(p)[0] for p in [
        (0, 24, 16.6),
        (-34, 0, 16.6),
        (15.555, -24, 16.6),
        (34, 0, 16.6),
        (0, 21, 16.6),
        (31, 0, 16.6),
        (14.055, -21, 16.6),
        (-31, 0, 16.6),
        (-22.945, -21, 16.6),
        (-24.445, -24, 16.6),
        (-2.89, -22.5, 16.6),
        (-14.89, -22.5, 16.6),
    ]]
    chamfer(chamfer7_edges, length=CHAMFER7_SIZE)

    # Chamfer8
    chamfer8_edges = [body_2_1.edges().sort_by_distance(p)[0] for p in [
        (13.97, -24, 3.8),
        (13.97, -21, 3.8),
        (-8.89, -21, 11.6),
        (-8.89, -24, 11.6),
        (1.27, 24, 1.6),
        (1.27, 21, 1.6),
        (-12.7, 24, 1.6),
        (-12.7, 21, 1.6),
    ]]
    chamfer(chamfer8_edges, length=CHAMFER8_SIZE)

    # Chamfer9
    chamfer9_edges = [body_2_1.edges().sort_by_distance(p)[0] for p in [
        (25.48, -16.51, 0),
        (20.5425, -18.755, 0),
        (-21.593254422, 13.973254422, 0),
        (21.593254422, -13.973254422, 0),
        (-21.593254422, -13.973254422, 0),
        (-27.565, -12.9225, 0),
        (-27.565, 12.9225, 0),
        (-20.5425, 18.755, 0),
        (20.5425, 18.755, 0),
        (21.593254422, 13.973254422, 0),
        (27.565, 12.9225, 0),
        (27.565, -12.9225, 0),
        (-22.78, -16.51, 0),
        (-20.5425, -18.755, 0),
        (-22.78, 16.51, 0),
        (25.48, 16.51, 0),
    ]]
    chamfer(chamfer9_edges, length=CHAMFER9_SIZE)

    # Chamfer10
    chamfer10_edges = [body_2_1.edges().sort_by_distance(p)[0] for p in [
        (-20.5425, -18.755, -3),
        (20.5425, -18.755, -3),
        (21.593254422, -13.973254422, -3),
        (31, 0, -3),
        (0, 21, -3),
        (-21.593254422, 13.973254422, -3),
        (-31, 0, -3),
        (0, -21, -3),
        (-21.593254422, -13.973254422, -3),
        (-27.565, -12.9225, -3),
        (-27.565, 12.9225, -3),
        (-20.5425, 18.755, -3),
        (20.5425, 18.755, -3),
        (21.593254422, 13.973254422, -3),
        (27.565, 12.9225, -3),
        (27.565, -12.9225, -3),
    ]]
    chamfer(chamfer10_edges, length=CHAMFER10_SIZE)


solid = Compound([part.part, body_3_1.part, body_2_1.part])
